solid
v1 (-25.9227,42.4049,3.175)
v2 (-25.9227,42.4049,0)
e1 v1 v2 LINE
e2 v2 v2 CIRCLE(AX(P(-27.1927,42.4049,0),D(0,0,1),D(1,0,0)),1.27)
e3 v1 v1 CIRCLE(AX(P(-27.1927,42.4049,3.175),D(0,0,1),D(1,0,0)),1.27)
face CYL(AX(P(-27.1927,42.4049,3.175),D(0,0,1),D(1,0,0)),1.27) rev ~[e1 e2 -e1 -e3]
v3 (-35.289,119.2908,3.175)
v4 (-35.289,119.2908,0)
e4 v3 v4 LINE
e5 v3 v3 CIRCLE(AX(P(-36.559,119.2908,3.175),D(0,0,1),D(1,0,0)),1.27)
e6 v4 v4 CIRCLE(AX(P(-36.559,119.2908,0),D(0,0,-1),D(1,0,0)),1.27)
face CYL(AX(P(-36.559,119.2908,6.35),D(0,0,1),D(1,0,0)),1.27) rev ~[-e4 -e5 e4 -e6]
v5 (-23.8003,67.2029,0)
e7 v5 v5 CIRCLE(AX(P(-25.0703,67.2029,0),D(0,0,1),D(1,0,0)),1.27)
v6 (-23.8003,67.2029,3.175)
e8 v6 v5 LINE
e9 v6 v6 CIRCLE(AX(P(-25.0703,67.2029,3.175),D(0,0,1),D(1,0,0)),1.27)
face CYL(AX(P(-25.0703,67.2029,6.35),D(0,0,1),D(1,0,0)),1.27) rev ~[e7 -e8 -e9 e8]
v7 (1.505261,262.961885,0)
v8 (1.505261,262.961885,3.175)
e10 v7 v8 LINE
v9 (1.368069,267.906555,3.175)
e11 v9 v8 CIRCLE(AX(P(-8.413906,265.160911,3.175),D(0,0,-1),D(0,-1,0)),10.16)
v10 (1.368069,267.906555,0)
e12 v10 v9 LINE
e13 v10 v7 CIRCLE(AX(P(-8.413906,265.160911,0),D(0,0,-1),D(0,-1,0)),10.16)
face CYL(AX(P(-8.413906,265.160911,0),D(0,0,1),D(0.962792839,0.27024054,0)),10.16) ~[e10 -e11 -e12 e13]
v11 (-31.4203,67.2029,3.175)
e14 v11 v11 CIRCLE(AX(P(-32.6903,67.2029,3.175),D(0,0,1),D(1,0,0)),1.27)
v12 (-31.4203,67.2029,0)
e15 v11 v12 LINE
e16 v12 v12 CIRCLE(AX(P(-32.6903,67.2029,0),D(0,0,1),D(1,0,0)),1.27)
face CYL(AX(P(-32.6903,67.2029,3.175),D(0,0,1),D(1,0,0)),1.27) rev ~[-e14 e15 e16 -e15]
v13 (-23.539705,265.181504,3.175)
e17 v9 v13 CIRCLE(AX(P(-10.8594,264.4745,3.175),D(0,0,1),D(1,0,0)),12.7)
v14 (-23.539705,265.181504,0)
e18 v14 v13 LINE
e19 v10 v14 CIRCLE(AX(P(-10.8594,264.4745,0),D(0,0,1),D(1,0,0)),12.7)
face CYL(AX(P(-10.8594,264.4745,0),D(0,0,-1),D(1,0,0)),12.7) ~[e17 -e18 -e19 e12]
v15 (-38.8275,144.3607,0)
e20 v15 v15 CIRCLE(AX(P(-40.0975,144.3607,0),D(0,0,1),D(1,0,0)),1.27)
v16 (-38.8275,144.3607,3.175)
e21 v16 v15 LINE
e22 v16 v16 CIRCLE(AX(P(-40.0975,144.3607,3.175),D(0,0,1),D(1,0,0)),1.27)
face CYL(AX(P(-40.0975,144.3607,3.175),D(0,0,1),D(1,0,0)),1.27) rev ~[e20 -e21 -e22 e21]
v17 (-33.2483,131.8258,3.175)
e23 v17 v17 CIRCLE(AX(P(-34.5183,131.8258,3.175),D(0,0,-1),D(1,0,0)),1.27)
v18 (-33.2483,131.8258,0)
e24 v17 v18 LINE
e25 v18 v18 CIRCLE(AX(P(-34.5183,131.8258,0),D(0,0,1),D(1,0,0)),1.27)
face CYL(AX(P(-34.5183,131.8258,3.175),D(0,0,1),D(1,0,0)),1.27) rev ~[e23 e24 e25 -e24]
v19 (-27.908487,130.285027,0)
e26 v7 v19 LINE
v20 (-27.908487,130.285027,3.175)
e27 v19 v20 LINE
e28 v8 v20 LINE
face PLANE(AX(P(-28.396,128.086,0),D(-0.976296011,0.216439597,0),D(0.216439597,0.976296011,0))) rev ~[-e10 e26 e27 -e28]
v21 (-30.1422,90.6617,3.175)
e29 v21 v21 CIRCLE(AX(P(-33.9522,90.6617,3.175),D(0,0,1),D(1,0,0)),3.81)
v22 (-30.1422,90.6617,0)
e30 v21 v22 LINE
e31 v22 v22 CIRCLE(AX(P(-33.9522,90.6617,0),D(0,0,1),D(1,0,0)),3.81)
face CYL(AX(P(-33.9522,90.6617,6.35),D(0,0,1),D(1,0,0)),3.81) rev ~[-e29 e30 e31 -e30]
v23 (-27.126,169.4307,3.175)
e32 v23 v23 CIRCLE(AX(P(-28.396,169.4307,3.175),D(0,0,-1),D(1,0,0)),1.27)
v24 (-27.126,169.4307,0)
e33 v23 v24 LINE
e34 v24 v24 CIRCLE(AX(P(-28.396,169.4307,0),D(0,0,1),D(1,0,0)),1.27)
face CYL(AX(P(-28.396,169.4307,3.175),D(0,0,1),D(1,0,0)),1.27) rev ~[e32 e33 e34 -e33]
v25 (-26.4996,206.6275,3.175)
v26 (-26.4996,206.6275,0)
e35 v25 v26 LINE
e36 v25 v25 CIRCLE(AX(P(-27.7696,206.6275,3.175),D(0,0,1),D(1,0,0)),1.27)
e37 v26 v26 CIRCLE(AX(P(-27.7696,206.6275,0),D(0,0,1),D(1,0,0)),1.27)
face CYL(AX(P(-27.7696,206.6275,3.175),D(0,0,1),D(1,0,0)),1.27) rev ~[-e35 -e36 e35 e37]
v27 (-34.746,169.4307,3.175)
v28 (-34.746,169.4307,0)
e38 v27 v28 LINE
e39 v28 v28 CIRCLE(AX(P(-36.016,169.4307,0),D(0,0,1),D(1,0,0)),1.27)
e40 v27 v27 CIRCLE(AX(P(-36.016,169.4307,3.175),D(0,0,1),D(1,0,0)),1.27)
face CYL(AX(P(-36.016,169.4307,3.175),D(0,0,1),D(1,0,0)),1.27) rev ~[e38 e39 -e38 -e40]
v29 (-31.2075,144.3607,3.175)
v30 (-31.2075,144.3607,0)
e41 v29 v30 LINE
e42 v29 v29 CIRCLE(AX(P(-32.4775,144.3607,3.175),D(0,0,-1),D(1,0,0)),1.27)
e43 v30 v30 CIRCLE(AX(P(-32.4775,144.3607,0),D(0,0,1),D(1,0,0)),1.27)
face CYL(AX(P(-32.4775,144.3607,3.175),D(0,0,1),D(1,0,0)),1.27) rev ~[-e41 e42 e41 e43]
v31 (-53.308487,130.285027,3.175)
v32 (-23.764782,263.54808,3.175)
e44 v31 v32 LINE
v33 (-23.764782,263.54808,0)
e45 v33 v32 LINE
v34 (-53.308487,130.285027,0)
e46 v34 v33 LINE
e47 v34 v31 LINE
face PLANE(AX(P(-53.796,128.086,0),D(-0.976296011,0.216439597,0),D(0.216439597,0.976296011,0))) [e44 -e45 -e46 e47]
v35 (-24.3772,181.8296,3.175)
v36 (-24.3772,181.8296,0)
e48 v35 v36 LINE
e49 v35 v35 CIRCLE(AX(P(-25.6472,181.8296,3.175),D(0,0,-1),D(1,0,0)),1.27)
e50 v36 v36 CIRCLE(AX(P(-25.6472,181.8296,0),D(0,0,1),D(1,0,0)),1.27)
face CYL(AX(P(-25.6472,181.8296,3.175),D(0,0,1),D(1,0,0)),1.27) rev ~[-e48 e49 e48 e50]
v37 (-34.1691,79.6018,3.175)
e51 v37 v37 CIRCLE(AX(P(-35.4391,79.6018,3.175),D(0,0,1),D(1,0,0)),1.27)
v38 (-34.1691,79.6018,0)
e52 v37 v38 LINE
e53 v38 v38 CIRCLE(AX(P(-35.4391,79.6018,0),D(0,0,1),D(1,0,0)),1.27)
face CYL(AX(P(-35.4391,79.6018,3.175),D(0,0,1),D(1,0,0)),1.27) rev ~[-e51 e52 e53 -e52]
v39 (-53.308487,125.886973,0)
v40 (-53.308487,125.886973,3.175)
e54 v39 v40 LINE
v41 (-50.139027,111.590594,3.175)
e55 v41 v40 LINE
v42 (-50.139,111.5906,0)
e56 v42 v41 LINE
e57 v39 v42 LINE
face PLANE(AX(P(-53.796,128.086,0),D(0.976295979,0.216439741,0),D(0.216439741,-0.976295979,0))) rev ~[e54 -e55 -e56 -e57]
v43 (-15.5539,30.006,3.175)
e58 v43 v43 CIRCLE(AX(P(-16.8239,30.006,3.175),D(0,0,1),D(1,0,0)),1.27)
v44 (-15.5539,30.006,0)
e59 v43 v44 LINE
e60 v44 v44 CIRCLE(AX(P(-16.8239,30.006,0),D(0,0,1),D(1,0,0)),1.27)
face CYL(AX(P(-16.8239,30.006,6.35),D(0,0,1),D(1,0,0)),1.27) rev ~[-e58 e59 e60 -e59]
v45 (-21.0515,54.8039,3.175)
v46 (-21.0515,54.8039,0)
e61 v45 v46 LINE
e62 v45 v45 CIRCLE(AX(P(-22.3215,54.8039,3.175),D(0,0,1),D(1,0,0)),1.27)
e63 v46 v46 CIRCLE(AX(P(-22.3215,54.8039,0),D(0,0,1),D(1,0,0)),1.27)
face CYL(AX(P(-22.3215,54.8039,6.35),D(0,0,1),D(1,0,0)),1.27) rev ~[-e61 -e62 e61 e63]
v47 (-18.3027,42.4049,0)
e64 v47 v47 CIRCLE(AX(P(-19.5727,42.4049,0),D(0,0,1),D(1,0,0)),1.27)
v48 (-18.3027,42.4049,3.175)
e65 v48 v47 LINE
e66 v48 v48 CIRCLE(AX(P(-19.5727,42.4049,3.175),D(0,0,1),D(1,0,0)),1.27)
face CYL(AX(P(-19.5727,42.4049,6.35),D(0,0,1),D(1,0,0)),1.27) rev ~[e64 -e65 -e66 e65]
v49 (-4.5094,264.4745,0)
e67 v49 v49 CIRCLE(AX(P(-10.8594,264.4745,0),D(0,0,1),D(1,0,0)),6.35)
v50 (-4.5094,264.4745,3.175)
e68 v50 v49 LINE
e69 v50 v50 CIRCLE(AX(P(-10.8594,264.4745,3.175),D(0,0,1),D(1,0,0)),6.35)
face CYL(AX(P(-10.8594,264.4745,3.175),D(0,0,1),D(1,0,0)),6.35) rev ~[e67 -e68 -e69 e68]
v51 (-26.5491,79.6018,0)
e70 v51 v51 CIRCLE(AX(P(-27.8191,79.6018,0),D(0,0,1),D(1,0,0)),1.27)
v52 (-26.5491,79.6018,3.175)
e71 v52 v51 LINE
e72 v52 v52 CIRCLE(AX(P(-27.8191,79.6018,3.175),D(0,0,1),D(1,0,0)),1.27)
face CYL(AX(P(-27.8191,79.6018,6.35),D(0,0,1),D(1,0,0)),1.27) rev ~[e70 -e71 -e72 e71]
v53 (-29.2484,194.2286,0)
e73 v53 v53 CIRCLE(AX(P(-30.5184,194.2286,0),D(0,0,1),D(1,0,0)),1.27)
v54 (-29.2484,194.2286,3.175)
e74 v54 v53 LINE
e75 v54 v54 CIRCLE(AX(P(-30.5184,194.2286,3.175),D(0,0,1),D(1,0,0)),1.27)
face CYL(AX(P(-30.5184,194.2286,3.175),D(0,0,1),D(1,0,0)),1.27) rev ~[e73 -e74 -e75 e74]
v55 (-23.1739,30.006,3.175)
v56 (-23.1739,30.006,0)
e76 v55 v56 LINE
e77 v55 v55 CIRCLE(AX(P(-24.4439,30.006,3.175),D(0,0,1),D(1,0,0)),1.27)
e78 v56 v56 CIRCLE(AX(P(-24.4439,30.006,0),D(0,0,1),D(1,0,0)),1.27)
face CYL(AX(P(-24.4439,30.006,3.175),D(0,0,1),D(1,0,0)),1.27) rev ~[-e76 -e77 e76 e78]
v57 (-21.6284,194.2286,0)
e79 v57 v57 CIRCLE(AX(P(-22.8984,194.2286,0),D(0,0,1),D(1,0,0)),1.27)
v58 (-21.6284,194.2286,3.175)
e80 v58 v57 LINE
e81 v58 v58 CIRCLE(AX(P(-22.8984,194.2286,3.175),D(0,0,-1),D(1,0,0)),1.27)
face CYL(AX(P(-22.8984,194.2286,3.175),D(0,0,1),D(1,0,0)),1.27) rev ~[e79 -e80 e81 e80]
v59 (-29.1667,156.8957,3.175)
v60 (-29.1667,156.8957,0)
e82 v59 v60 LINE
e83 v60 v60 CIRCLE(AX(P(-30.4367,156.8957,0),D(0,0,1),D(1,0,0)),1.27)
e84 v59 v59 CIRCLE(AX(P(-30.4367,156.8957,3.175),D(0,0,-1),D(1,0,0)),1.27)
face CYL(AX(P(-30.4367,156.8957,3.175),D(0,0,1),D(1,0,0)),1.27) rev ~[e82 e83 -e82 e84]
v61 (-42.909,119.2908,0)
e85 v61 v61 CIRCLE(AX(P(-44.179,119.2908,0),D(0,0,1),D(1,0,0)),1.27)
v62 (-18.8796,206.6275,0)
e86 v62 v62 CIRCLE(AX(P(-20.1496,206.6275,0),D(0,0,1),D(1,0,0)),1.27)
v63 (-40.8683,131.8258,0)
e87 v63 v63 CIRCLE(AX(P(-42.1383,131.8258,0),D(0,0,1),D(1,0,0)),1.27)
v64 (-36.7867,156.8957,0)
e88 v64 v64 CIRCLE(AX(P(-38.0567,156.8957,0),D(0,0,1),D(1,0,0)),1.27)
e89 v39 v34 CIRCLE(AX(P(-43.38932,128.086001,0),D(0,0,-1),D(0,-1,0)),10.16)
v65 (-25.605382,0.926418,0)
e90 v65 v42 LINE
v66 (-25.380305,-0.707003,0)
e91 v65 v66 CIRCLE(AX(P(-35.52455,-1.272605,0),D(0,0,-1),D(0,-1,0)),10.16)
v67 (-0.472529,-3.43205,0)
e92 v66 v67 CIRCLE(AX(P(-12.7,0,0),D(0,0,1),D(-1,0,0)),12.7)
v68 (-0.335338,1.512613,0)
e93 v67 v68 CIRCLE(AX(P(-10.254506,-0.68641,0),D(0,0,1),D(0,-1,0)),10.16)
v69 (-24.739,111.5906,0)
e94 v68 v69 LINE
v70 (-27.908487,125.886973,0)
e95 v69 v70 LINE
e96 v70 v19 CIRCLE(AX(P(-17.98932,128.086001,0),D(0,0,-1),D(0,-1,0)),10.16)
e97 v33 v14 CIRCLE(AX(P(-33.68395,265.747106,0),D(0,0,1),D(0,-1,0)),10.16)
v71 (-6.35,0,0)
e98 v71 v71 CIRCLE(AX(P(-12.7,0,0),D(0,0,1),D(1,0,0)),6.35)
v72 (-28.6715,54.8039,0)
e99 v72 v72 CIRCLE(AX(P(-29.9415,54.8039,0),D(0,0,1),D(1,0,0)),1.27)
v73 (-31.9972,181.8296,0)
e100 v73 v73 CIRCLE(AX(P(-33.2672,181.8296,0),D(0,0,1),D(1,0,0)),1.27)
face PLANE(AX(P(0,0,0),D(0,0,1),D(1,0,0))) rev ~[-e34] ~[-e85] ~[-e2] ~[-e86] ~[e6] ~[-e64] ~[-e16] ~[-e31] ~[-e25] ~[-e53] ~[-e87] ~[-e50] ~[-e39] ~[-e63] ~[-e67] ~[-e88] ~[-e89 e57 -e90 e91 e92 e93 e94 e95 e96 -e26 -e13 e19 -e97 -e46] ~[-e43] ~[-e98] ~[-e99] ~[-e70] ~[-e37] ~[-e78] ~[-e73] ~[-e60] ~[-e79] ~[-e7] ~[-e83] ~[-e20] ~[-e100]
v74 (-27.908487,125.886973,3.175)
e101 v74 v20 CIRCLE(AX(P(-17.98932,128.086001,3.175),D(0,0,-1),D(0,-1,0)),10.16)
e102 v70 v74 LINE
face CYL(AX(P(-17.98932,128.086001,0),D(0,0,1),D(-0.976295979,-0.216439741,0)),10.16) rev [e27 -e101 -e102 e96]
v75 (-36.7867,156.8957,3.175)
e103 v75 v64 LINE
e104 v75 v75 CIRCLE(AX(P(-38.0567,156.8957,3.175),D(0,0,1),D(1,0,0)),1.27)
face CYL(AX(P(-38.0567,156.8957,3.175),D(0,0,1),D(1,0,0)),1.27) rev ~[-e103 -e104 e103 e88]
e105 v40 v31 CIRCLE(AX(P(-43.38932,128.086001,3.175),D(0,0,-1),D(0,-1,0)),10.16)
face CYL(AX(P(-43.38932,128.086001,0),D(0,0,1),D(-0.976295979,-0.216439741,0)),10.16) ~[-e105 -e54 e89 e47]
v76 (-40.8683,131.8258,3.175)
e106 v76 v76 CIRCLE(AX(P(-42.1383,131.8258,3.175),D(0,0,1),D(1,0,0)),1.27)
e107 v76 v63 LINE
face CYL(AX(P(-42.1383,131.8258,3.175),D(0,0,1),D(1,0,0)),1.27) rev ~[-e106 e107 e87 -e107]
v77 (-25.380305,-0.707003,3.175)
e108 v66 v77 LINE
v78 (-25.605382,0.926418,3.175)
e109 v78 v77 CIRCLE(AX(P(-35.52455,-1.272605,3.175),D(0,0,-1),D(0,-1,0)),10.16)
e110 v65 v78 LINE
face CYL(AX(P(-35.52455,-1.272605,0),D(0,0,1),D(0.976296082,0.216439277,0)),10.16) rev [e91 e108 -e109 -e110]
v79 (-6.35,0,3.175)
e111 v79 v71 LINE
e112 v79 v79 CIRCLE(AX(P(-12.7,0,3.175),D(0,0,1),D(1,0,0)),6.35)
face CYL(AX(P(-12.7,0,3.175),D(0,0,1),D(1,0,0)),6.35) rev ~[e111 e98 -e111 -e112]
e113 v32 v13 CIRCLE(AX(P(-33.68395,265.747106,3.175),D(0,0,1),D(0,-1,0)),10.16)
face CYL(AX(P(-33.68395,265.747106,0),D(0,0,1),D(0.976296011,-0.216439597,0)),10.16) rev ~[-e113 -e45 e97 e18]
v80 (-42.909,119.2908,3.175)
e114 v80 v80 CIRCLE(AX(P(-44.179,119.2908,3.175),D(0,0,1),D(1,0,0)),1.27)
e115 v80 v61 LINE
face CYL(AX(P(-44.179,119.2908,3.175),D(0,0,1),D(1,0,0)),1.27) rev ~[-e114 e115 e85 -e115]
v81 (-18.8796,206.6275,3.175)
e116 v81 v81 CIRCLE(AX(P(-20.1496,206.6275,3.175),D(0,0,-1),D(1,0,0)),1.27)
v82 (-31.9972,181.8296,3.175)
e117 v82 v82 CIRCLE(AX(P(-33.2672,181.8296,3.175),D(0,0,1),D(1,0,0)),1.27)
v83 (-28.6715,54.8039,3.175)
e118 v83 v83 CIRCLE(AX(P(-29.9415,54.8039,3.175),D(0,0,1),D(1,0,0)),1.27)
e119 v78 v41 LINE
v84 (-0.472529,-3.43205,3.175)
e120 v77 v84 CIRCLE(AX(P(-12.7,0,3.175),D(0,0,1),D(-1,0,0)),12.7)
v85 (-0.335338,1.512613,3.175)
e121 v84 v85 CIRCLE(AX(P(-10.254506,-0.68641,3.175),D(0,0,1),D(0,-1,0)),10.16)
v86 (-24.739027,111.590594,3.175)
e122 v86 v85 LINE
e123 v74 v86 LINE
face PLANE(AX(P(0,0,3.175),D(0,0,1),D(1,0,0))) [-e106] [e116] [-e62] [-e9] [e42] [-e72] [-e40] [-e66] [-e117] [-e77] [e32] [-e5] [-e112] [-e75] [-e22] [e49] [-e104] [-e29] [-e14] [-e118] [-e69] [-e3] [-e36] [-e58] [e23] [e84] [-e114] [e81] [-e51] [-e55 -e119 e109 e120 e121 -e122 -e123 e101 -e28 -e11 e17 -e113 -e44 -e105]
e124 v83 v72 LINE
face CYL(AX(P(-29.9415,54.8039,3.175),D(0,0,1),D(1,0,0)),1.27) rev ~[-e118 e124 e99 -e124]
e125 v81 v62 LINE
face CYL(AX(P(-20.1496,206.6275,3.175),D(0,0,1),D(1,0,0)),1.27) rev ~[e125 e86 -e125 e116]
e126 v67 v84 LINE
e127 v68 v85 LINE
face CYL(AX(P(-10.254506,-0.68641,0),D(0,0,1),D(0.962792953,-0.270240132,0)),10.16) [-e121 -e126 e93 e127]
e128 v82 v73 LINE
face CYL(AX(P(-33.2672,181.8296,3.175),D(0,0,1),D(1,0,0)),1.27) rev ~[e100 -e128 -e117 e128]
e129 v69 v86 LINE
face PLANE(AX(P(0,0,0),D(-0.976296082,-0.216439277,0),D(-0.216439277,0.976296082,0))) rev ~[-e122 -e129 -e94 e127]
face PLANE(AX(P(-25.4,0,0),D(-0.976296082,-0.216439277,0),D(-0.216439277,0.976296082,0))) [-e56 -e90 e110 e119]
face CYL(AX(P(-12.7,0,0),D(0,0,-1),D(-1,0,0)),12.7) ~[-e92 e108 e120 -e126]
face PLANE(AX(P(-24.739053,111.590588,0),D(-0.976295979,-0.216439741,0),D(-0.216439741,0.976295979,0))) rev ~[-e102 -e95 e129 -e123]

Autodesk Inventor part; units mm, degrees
ref_plane "YZ Plane" through (0, 0, 0) normal (1, 0, 0) x (0, 1, 0)
ref_plane "XZ Plane" through (0, 0, 0) normal (0, 1, 0) x (-1, 0, 0)
ref_plane "XY Plane" through (0, 0, 0) normal (0, 0, 1) x (1, 0, 0)
sketch "Sketch1" plane through (0, 0, 0) normal (0, 0, 1) x (1, 0, 0)
  line L0 (0, 0) -> (-24.739, 111.5906)
  line L1 (0, 0) -> (114.3, 0) construction
  line L2 (-24.739, 111.5906) -> (0, 223.1813)
  line L3 (0, 223.1813) -> (-25.4, 223.1813)
  line L4 (-24.739, 111.5906) -> (-50.139, 111.5906)
  line L5 (0, 0) -> (-25.4, 0)
  line L6 (-25.4, 0) -> (-50.139, 111.5906)
  line L7 (-25.4, 223.1813) -> (-50.139, 111.5906)
  arc A0 (0, 223.1813) -> (-25.4, 223.1813) centre (-12.7, 223.1813) ccw
  arc A1 (-25.4, 0) -> (0, 0) centre (-12.7, 0) ccw
  circle A2 centre (-12.7, 0) radius 6.35
  circle A3 centre (-12.7, 223.1813) radius 6.35
  line L8 (0, 0) -> (-28.396, 128.086)
  line L9 (-28.396, 128.086) -> (1.8406, 264.4745)
  line L10 (-28.396, 128.086) -> (111.304, 128.086) construction
  line L11 (1.8406, 264.4745) -> (-23.5594, 264.4745)
  line L12 (-28.396, 128.086) -> (-53.796, 128.086)
  line L13 (-53.796, 128.086) -> (-23.5594, 264.4745)
  line L14 (0, 0) -> (-25.4, 0)
  line L15 (-53.796, 128.086) -> (-25.4, 0)
  arc A4 (-25.4, 0) -> (0, 0) centre (-12.7, 0) ccw
  circle A5 centre (-12.7, 0) radius 6.35
  arc A6 (1.8406, 264.4745) -> (-23.5594, 264.4745) centre (-10.8594, 264.4745) ccw
  circle A7 centre (-10.8594, 264.4745) radius 6.35
  dimension "d0" = 114.3
  dimension "d1" = 102.5
  dimension "d2" = 114.3
  dimension "d3" = 155
  dimension "d4" = 25.4
  dimension "d5" = 25.4
  dimension "d6" = 25.4
  dimension "d7" = 12.7
  dimension "d8" = 12.7
  dimension "d9" = 12.7
  dimension "d10" = 12.7
  dimension "d24" = 139.7
  dimension "d25" = 77.5
  dimension "d26" = 25.4
  dimension "d27" = 25.4
  dimension "d28" = 12.7
  dimension "d29" = 12.7
extrude "Extrusion3" add sketch "Sketch1" along normal blind 6.35 contours L5 A2 L6 L4 L0 | A1 L5 A2 | L4 L7 L12 L8 | L15 L12 L7 | L12 L7 L3 A3 L9 | L9 A3 L3 A0 | A0 L7 L12 L13 L11 A7 L9 | A3 L3 L9 | L3 A3 L9 | L11 A7 A6 picked at (-23.0997, 224.6964) picked at (-15.0808, 222.6929) picked at (-15.082, 223.6647)
sketch "Sketch3" plane through (0, 0, 6.35) normal (0, 0, 1) x (1, 0, 0)
  line L0 (1.8406, 264.4745) -> (-28.396, 128.086) projected
  line L1 (-53.796, 128.086) -> (-23.5594, 264.4745) projected
  line L2 (-28.396, 128.086) -> (-53.796, 128.086)
  line L3 (-28.396, 128.086) -> (-23.8337, 107.5068)
  line L4 (-28.396, 128.086) -> (0, 0) projected
  line L5 (-25.4, 0) -> (-53.796, 128.086) projected
  line L6 (-41.096, 128.086) -> (-36.3335, 103.1365)
  circle A0 centre (-10.8594, 264.4745) radius 6.35 projected
  line L7 (-41.096, 128.086) -> (-33.9522, 90.6617)
  line L8 (-41.096, 128.086) -> (-39.9054, 121.8486)
  line L9 (-41.096, 128.086) -> (-28.396, 128.086)
  line L10 (-41.096, 128.086) -> (-33.9522, 90.6617)
  line L11 (-33.9522, 90.6617) -> (-28.8722, 90.6617) construction
  circle A1 centre (-33.9522, 90.6617) radius 3.81
  line L12 (-38.6033, 115.0277) -> (-36.8935, 106.0705)
  line L13 (-35.4604, 115.6269) -> (-24.0304, 115.6269) construction
  circle A2 centre (-33.3166, 104.3997) radius 1.27
  dimension "d42" = 25.4
  dimension "d50" = 38.1
  dimension "d51" = 6.35
  dimension "d59" = 7.62
  dimension "d82" = 2.54
sketch "Sketch5" plane through (0, 0, 6.35) normal (0, 0, 1) x (1, 0, 0)
  circle A0 centre (-10.8594, 264.4745) radius 7.4295
  circle A1 centre (-12.7, 0) radius 7.4295
  point P0 (0, 0)
  dimension "d76" = 14.859
  dimension "d77" = 14.859
extrude "Extrusion14" cut sketch "Sketch5" against normal blind 25.4
extrude "Extrusion15" cut sketch "Sketch3" against normal blind 25.4 contours A1 | A2
sketch "Sketch6" plane through (0, 0, 6.35) normal (0, 0, 1) x (1, 0, 0)
  circle A0 centre (-33.3166, 104.3997) radius 1.27 projected
  line L0 (0, 0) -> (-28.396, 128.086) projected
  line L1 (-33.3166, 104.3997) -> (-7.9166, 104.3997) construction
  line L2 (-33.3166, 104.3997) -> (-27.8191, 79.6018)
  line L3 (-33.3166, 104.3997) -> (-7.9166, 104.3997) construction
  line L4 (-27.8191, 79.6018) -> (-25.0703, 67.2029)
  line L5 (-25.0703, 67.2029) -> (-22.3215, 54.8039)
  line L6 (-22.3215, 54.8039) -> (-19.5727, 42.4049)
  line L7 (-19.5727, 42.4049) -> (-16.8239, 30.006)
  circle A1 centre (-27.8191, 79.6018) radius 1.27
  circle A2 centre (-25.0703, 67.2029) radius 1.27
  circle A3 centre (-22.3215, 54.8039) radius 1.27
  circle A4 centre (-19.5727, 42.4049) radius 1.27
  circle A5 centre (-16.8239, 30.006) radius 1.27
  dimension "d89" = 25.4
  dimension "d90" = 77.5
  dimension "d91" = 12.7
  dimension "d92" = 12.7
  dimension "d93" = 12.7
  dimension "d94" = 12.7
  dimension "d95" = 2.54
  dimension "d96" = 2.54
  dimension "d97" = 2.54
  dimension "d98" = 2.54
  dimension "d99" = 2.54
extrude "Extrusion16" cut sketch "Sketch6" against normal blind 25.4 contours A5 | A4 L7 L6 | L6 L7 A4 | A3 L6 L5 | L5 L6 A3 | A2 L5 L4 | L4 L5 A2 | A1 L4 L2 | L2 L4 A1
sketch "Sketch7" plane through (0, 0, 6.35) normal (0, 0, 1) x (1, 0, 0)
  circle A0 centre (-33.3166, 104.3997) radius 1.27 projected
  line L0 (-33.3166, 104.3997) -> (-36.559, 119.2908)
  circle A1 centre (-36.559, 119.2908) radius 1.27
  point P0 (0, 0)
  dimension "d102" = 15.24
  dimension "d103" = 2.54
extrude "Extrusion17" cut sketch "Sketch7" against normal blind 25.4 contours A1
sketch "Sketch8" plane through (0, 0, 6.35) normal (0, 0, 1) x (1, 0, 0)
  circle A0 centre (-36.559, 119.2908) radius 1.27 projected
  circle A1 centre (-22.3215, 54.8039) radius 1.27 projected
  circle A2 centre (-19.5727, 42.4049) radius 1.27 projected
  circle A3 centre (-25.0703, 67.2029) radius 1.27 projected
  circle A4 centre (-16.8239, 30.006) radius 1.27 projected
  circle A5 centre (-27.8191, 79.6018) radius 1.27 projected
  circle A6 centre (-33.9522, 90.6617) radius 3.81 projected
  circle A7 centre (-33.3166, 104.3997) radius 1.27 projected
  circle A8 centre (-10.8594, 264.4745) radius 7.4295 projected
  circle A9 centre (-12.7, 0) radius 7.4295 projected
  arc A10 (-25.4, 0) -> (0, 0) centre (-12.7, 0) ccw projected
  line L0 (-28.396, 128.086) -> (0, 0) projected
  line L1 (1.8406, 264.4745) -> (-28.396, 128.086) projected
  arc A11 (1.8406, 264.4745) -> (-23.5594, 264.4745) centre (-10.8594, 264.4745) ccw projected
  line L2 (-53.796, 128.086) -> (-23.5594, 264.4745) projected
  line L3 (-25.4, 0) -> (-53.796, 128.086) projected
extrude "Extrusion18" cut sketch "Sketch8" against normal blind 3.175
sketch "Sketch9" plane through (0, 0, 3.175) normal (0, 0, 1) x (1, 0, 0)
  circle A0 centre (-36.559, 119.2908) radius 1.27 projected
  line L0 (-36.559, 119.2908) -> (-28.396, 169.4307)
  line L1 (-36.559, 119.2908) -> (-44.179, 119.2908)
  circle A1 centre (-33.3166, 104.3997) radius 1.27 projected
  line L2 (-33.3166, 104.3997) -> (-40.9366, 104.3997)
  circle A2 centre (-27.8191, 79.6018) radius 1.27 projected
  line L3 (-27.8191, 79.6018) -> (-35.4391, 79.6018)
  circle A3 centre (-25.0703, 67.2029) radius 1.27 projected
  line L4 (-25.0703, 67.2029) -> (-32.6903, 67.2029)
  circle A4 centre (-22.3215, 54.8039) radius 1.27 projected
  line L5 (-22.3215, 54.8039) -> (-29.9415, 54.8039)
  circle A5 centre (-19.5727, 42.4049) radius 1.27 projected
  line L6 (-19.5727, 42.4049) -> (-27.1927, 42.4049)
  circle A6 centre (-16.8239, 30.006) radius 1.27 projected
  line L7 (-16.8239, 30.006) -> (-24.4439, 30.006)
  circle A7 centre (-27.1927, 42.4049) radius 1.27
  circle A8 centre (-24.4439, 30.006) radius 1.27
  circle A9 centre (-29.9415, 54.8039) radius 1.27
  circle A10 centre (-32.6903, 67.2029) radius 1.27
  circle A11 centre (-35.4391, 79.6018) radius 1.27
  circle A12 centre (-40.9366, 104.3997) radius 1.27
  circle A13 centre (-44.179, 119.2908) radius 1.27
  line L8 (-36.559, 119.2908) -> (-34.5183, 131.8258)
  line L9 (-34.5183, 131.8258) -> (-32.4775, 144.3607)
  line L10 (-32.4775, 144.3607) -> (-30.4367, 156.8957)
  line L11 (-28.396, 169.4307) -> (-25.6472, 181.8296)
  line L12 (-28.396, 169.4307) -> (-15.696, 169.4307) construction
  line L13 (-25.6472, 181.8296) -> (-22.8984, 194.2286)
  line L14 (-22.8984, 194.2286) -> (-20.1496, 206.6275)
  line L15 (-20.1496, 206.6275) -> (-27.7696, 206.6275)
  line L16 (-22.8984, 194.2286) -> (-30.5184, 194.2286)
  line L17 (-25.6472, 181.8296) -> (-33.2672, 181.8296)
  line L18 (-28.396, 169.4307) -> (-36.016, 169.4307)
  line L19 (-30.4367, 156.8957) -> (-38.0567, 156.8957)
  line L20 (-32.4775, 144.3607) -> (-40.0975, 144.3607)
  line L21 (-34.5183, 131.8258) -> (-42.1383, 131.8258)
  circle A14 centre (-27.7696, 206.6275) radius 1.27
  circle A15 centre (-20.1496, 206.6275) radius 1.27
  circle A16 centre (-30.5184, 194.2286) radius 1.27
  circle A17 centre (-22.8984, 194.2286) radius 1.27
  circle A18 centre (-33.2672, 181.8296) radius 1.27
  circle A19 centre (-25.6472, 181.8296) radius 1.27
  circle A20 centre (-36.016, 169.4307) radius 1.27
  circle A21 centre (-28.396, 169.4307) radius 1.27
  circle A22 centre (-42.1383, 131.8258) radius 1.27
  circle A23 centre (-40.0975, 144.3607) radius 1.27
  circle A24 centre (-38.0567, 156.8957) radius 1.27
  circle A25 centre (-34.5183, 131.8258) radius 1.27
  circle A26 centre (-32.4775, 144.3607) radius 1.27
  circle A27 centre (-30.4367, 156.8957) radius 1.27
  point P0 (0, 0)
  dimension "d108" = 50.8
  dimension "d109" = 7.62
  dimension "d110" = 7.62
  dimension "d111" = 7.62
  dimension "d112" = 7.62
  dimension "d113" = 7.62
  dimension "d114" = 7.62
  dimension "d115" = 7.62
  dimension "d116" = 2.54
  dimension "d117" = 2.54
  dimension "d118" = 2.54
  dimension "d119" = 2.54
  dimension "d120" = 2.54
  dimension "d121" = 2.54
  dimension "d122" = 2.54
  dimension "d123" = 12.7
  dimension "d124" = 12.7
  dimension "d125" = 12.7
  dimension "d126" = 12.7
  dimension "d127" = 77.5
  dimension "d128" = 12.7
  dimension "d129" = 12.7
  dimension "d130" = 7.62
  dimension "d131" = 7.62
  dimension "d132" = 7.62
  dimension "d133" = 7.62
  dimension "d134" = 7.62
  dimension "d135" = 7.62
  dimension "d136" = 7.62
  dimension "d137" = 2.54
  dimension "d138" = 2.54
  dimension "d139" = 2.54
  dimension "d140" = 2.54
  dimension "d141" = 2.54
  dimension "d142" = 2.54
  dimension "d143" = 2.54
  dimension "d144" = 2.54
  dimension "d145" = 2.54
  dimension "d146" = 2.54
  dimension "d147" = 2.54
  dimension "d148" = 2.54
  dimension "d149" = 2.54
  dimension "d150" = 2.54
extrude "Extrusion19" cut sketch "Sketch9" against normal blind 3.175 contours A13 | A22 | A23 | A24 | A20 | A18 | A16 | A14 | A15 L15 L14 | L14 L15 A15 | A17 L16 L13 | L13 L14 A17 | A19 L17 L11 | L11 L13 A19 | A21 L18 L0 | L0 L11 A21 | A27 L19 L0 | L0 A27 | A26 L20 L0 | L0 A26 | A25 L21 L0 | L0 A25 | L21 A25 L0 | L20 A26 L0 | L19 A27 L0 | L18 A21 L11 | L17 A19 L13 | L16 A17 L14 | A12 | A11 | A10 | A9 | A7 | A8
sketch "Sketch10" plane through (0, 0, 3.175) normal (0, 0, 1) x (1, 0, 0)
  circle A0 centre (-33.3166, 104.3997) radius 1.27 projected
  circle A1 centre (-33.3166, 104.3997) radius 1.27
  circle A2 centre (-40.9366, 104.3997) radius 1.27 projected
  circle A3 centre (-40.9366, 104.3997) radius 1.27
  point P0 (0, 0)
extrude "Extrusion20" add sketch "Sketch10" against normal blind 3.175
sketch "Sketch11" plane through (0, 0, 3.175) normal (0, 0, 1) x (1, 0, 0)
  point P0 (0, 0)
sketch "Sketch12" plane through (0, 0, 3.175) normal (0, 0, 1) x (1, 0, 0)
  point P0 (0, 0)
fillet "Fillet1" radius 10.16 6 edges at (-25.4, 0, 1.5875) (0, 0, 1.5875) (-53.796, 128.086, 1.5875) (-28.396, 128.086, 1.5875) (1.8406, 264.4745, 1.5875) (-23.5594, 264.4745, 1.5875)
sketch "Sketch13" plane through (0, 0, 3.175) normal (0, 0, 1) x (1, 0, 0)
  point P0 (0, 0)
sketch "Sketch14" plane through (0, 0, 3.175) normal (0, 0, 1) x (1, 0, 0)
  circle A0 centre (-12.7, 0) radius 7.4295 projected
  circle A1 centre (-12.7, 0) radius 6.35
  circle A2 centre (-10.8594, 264.4745) radius 7.4295 projected
  circle A3 centre (-10.8594, 264.4745) radius 6.35
  circle A4 centre (-10.8594, 264.4745) radius 7.4295
  point P0 (0, 0)
  dimension "d156" = 12.7
  dimension "d157" = 12.7
extrude "Extrusion21" add sketch "Sketch14" against normal blind 3.175
properties part number "angle v3 inside"
